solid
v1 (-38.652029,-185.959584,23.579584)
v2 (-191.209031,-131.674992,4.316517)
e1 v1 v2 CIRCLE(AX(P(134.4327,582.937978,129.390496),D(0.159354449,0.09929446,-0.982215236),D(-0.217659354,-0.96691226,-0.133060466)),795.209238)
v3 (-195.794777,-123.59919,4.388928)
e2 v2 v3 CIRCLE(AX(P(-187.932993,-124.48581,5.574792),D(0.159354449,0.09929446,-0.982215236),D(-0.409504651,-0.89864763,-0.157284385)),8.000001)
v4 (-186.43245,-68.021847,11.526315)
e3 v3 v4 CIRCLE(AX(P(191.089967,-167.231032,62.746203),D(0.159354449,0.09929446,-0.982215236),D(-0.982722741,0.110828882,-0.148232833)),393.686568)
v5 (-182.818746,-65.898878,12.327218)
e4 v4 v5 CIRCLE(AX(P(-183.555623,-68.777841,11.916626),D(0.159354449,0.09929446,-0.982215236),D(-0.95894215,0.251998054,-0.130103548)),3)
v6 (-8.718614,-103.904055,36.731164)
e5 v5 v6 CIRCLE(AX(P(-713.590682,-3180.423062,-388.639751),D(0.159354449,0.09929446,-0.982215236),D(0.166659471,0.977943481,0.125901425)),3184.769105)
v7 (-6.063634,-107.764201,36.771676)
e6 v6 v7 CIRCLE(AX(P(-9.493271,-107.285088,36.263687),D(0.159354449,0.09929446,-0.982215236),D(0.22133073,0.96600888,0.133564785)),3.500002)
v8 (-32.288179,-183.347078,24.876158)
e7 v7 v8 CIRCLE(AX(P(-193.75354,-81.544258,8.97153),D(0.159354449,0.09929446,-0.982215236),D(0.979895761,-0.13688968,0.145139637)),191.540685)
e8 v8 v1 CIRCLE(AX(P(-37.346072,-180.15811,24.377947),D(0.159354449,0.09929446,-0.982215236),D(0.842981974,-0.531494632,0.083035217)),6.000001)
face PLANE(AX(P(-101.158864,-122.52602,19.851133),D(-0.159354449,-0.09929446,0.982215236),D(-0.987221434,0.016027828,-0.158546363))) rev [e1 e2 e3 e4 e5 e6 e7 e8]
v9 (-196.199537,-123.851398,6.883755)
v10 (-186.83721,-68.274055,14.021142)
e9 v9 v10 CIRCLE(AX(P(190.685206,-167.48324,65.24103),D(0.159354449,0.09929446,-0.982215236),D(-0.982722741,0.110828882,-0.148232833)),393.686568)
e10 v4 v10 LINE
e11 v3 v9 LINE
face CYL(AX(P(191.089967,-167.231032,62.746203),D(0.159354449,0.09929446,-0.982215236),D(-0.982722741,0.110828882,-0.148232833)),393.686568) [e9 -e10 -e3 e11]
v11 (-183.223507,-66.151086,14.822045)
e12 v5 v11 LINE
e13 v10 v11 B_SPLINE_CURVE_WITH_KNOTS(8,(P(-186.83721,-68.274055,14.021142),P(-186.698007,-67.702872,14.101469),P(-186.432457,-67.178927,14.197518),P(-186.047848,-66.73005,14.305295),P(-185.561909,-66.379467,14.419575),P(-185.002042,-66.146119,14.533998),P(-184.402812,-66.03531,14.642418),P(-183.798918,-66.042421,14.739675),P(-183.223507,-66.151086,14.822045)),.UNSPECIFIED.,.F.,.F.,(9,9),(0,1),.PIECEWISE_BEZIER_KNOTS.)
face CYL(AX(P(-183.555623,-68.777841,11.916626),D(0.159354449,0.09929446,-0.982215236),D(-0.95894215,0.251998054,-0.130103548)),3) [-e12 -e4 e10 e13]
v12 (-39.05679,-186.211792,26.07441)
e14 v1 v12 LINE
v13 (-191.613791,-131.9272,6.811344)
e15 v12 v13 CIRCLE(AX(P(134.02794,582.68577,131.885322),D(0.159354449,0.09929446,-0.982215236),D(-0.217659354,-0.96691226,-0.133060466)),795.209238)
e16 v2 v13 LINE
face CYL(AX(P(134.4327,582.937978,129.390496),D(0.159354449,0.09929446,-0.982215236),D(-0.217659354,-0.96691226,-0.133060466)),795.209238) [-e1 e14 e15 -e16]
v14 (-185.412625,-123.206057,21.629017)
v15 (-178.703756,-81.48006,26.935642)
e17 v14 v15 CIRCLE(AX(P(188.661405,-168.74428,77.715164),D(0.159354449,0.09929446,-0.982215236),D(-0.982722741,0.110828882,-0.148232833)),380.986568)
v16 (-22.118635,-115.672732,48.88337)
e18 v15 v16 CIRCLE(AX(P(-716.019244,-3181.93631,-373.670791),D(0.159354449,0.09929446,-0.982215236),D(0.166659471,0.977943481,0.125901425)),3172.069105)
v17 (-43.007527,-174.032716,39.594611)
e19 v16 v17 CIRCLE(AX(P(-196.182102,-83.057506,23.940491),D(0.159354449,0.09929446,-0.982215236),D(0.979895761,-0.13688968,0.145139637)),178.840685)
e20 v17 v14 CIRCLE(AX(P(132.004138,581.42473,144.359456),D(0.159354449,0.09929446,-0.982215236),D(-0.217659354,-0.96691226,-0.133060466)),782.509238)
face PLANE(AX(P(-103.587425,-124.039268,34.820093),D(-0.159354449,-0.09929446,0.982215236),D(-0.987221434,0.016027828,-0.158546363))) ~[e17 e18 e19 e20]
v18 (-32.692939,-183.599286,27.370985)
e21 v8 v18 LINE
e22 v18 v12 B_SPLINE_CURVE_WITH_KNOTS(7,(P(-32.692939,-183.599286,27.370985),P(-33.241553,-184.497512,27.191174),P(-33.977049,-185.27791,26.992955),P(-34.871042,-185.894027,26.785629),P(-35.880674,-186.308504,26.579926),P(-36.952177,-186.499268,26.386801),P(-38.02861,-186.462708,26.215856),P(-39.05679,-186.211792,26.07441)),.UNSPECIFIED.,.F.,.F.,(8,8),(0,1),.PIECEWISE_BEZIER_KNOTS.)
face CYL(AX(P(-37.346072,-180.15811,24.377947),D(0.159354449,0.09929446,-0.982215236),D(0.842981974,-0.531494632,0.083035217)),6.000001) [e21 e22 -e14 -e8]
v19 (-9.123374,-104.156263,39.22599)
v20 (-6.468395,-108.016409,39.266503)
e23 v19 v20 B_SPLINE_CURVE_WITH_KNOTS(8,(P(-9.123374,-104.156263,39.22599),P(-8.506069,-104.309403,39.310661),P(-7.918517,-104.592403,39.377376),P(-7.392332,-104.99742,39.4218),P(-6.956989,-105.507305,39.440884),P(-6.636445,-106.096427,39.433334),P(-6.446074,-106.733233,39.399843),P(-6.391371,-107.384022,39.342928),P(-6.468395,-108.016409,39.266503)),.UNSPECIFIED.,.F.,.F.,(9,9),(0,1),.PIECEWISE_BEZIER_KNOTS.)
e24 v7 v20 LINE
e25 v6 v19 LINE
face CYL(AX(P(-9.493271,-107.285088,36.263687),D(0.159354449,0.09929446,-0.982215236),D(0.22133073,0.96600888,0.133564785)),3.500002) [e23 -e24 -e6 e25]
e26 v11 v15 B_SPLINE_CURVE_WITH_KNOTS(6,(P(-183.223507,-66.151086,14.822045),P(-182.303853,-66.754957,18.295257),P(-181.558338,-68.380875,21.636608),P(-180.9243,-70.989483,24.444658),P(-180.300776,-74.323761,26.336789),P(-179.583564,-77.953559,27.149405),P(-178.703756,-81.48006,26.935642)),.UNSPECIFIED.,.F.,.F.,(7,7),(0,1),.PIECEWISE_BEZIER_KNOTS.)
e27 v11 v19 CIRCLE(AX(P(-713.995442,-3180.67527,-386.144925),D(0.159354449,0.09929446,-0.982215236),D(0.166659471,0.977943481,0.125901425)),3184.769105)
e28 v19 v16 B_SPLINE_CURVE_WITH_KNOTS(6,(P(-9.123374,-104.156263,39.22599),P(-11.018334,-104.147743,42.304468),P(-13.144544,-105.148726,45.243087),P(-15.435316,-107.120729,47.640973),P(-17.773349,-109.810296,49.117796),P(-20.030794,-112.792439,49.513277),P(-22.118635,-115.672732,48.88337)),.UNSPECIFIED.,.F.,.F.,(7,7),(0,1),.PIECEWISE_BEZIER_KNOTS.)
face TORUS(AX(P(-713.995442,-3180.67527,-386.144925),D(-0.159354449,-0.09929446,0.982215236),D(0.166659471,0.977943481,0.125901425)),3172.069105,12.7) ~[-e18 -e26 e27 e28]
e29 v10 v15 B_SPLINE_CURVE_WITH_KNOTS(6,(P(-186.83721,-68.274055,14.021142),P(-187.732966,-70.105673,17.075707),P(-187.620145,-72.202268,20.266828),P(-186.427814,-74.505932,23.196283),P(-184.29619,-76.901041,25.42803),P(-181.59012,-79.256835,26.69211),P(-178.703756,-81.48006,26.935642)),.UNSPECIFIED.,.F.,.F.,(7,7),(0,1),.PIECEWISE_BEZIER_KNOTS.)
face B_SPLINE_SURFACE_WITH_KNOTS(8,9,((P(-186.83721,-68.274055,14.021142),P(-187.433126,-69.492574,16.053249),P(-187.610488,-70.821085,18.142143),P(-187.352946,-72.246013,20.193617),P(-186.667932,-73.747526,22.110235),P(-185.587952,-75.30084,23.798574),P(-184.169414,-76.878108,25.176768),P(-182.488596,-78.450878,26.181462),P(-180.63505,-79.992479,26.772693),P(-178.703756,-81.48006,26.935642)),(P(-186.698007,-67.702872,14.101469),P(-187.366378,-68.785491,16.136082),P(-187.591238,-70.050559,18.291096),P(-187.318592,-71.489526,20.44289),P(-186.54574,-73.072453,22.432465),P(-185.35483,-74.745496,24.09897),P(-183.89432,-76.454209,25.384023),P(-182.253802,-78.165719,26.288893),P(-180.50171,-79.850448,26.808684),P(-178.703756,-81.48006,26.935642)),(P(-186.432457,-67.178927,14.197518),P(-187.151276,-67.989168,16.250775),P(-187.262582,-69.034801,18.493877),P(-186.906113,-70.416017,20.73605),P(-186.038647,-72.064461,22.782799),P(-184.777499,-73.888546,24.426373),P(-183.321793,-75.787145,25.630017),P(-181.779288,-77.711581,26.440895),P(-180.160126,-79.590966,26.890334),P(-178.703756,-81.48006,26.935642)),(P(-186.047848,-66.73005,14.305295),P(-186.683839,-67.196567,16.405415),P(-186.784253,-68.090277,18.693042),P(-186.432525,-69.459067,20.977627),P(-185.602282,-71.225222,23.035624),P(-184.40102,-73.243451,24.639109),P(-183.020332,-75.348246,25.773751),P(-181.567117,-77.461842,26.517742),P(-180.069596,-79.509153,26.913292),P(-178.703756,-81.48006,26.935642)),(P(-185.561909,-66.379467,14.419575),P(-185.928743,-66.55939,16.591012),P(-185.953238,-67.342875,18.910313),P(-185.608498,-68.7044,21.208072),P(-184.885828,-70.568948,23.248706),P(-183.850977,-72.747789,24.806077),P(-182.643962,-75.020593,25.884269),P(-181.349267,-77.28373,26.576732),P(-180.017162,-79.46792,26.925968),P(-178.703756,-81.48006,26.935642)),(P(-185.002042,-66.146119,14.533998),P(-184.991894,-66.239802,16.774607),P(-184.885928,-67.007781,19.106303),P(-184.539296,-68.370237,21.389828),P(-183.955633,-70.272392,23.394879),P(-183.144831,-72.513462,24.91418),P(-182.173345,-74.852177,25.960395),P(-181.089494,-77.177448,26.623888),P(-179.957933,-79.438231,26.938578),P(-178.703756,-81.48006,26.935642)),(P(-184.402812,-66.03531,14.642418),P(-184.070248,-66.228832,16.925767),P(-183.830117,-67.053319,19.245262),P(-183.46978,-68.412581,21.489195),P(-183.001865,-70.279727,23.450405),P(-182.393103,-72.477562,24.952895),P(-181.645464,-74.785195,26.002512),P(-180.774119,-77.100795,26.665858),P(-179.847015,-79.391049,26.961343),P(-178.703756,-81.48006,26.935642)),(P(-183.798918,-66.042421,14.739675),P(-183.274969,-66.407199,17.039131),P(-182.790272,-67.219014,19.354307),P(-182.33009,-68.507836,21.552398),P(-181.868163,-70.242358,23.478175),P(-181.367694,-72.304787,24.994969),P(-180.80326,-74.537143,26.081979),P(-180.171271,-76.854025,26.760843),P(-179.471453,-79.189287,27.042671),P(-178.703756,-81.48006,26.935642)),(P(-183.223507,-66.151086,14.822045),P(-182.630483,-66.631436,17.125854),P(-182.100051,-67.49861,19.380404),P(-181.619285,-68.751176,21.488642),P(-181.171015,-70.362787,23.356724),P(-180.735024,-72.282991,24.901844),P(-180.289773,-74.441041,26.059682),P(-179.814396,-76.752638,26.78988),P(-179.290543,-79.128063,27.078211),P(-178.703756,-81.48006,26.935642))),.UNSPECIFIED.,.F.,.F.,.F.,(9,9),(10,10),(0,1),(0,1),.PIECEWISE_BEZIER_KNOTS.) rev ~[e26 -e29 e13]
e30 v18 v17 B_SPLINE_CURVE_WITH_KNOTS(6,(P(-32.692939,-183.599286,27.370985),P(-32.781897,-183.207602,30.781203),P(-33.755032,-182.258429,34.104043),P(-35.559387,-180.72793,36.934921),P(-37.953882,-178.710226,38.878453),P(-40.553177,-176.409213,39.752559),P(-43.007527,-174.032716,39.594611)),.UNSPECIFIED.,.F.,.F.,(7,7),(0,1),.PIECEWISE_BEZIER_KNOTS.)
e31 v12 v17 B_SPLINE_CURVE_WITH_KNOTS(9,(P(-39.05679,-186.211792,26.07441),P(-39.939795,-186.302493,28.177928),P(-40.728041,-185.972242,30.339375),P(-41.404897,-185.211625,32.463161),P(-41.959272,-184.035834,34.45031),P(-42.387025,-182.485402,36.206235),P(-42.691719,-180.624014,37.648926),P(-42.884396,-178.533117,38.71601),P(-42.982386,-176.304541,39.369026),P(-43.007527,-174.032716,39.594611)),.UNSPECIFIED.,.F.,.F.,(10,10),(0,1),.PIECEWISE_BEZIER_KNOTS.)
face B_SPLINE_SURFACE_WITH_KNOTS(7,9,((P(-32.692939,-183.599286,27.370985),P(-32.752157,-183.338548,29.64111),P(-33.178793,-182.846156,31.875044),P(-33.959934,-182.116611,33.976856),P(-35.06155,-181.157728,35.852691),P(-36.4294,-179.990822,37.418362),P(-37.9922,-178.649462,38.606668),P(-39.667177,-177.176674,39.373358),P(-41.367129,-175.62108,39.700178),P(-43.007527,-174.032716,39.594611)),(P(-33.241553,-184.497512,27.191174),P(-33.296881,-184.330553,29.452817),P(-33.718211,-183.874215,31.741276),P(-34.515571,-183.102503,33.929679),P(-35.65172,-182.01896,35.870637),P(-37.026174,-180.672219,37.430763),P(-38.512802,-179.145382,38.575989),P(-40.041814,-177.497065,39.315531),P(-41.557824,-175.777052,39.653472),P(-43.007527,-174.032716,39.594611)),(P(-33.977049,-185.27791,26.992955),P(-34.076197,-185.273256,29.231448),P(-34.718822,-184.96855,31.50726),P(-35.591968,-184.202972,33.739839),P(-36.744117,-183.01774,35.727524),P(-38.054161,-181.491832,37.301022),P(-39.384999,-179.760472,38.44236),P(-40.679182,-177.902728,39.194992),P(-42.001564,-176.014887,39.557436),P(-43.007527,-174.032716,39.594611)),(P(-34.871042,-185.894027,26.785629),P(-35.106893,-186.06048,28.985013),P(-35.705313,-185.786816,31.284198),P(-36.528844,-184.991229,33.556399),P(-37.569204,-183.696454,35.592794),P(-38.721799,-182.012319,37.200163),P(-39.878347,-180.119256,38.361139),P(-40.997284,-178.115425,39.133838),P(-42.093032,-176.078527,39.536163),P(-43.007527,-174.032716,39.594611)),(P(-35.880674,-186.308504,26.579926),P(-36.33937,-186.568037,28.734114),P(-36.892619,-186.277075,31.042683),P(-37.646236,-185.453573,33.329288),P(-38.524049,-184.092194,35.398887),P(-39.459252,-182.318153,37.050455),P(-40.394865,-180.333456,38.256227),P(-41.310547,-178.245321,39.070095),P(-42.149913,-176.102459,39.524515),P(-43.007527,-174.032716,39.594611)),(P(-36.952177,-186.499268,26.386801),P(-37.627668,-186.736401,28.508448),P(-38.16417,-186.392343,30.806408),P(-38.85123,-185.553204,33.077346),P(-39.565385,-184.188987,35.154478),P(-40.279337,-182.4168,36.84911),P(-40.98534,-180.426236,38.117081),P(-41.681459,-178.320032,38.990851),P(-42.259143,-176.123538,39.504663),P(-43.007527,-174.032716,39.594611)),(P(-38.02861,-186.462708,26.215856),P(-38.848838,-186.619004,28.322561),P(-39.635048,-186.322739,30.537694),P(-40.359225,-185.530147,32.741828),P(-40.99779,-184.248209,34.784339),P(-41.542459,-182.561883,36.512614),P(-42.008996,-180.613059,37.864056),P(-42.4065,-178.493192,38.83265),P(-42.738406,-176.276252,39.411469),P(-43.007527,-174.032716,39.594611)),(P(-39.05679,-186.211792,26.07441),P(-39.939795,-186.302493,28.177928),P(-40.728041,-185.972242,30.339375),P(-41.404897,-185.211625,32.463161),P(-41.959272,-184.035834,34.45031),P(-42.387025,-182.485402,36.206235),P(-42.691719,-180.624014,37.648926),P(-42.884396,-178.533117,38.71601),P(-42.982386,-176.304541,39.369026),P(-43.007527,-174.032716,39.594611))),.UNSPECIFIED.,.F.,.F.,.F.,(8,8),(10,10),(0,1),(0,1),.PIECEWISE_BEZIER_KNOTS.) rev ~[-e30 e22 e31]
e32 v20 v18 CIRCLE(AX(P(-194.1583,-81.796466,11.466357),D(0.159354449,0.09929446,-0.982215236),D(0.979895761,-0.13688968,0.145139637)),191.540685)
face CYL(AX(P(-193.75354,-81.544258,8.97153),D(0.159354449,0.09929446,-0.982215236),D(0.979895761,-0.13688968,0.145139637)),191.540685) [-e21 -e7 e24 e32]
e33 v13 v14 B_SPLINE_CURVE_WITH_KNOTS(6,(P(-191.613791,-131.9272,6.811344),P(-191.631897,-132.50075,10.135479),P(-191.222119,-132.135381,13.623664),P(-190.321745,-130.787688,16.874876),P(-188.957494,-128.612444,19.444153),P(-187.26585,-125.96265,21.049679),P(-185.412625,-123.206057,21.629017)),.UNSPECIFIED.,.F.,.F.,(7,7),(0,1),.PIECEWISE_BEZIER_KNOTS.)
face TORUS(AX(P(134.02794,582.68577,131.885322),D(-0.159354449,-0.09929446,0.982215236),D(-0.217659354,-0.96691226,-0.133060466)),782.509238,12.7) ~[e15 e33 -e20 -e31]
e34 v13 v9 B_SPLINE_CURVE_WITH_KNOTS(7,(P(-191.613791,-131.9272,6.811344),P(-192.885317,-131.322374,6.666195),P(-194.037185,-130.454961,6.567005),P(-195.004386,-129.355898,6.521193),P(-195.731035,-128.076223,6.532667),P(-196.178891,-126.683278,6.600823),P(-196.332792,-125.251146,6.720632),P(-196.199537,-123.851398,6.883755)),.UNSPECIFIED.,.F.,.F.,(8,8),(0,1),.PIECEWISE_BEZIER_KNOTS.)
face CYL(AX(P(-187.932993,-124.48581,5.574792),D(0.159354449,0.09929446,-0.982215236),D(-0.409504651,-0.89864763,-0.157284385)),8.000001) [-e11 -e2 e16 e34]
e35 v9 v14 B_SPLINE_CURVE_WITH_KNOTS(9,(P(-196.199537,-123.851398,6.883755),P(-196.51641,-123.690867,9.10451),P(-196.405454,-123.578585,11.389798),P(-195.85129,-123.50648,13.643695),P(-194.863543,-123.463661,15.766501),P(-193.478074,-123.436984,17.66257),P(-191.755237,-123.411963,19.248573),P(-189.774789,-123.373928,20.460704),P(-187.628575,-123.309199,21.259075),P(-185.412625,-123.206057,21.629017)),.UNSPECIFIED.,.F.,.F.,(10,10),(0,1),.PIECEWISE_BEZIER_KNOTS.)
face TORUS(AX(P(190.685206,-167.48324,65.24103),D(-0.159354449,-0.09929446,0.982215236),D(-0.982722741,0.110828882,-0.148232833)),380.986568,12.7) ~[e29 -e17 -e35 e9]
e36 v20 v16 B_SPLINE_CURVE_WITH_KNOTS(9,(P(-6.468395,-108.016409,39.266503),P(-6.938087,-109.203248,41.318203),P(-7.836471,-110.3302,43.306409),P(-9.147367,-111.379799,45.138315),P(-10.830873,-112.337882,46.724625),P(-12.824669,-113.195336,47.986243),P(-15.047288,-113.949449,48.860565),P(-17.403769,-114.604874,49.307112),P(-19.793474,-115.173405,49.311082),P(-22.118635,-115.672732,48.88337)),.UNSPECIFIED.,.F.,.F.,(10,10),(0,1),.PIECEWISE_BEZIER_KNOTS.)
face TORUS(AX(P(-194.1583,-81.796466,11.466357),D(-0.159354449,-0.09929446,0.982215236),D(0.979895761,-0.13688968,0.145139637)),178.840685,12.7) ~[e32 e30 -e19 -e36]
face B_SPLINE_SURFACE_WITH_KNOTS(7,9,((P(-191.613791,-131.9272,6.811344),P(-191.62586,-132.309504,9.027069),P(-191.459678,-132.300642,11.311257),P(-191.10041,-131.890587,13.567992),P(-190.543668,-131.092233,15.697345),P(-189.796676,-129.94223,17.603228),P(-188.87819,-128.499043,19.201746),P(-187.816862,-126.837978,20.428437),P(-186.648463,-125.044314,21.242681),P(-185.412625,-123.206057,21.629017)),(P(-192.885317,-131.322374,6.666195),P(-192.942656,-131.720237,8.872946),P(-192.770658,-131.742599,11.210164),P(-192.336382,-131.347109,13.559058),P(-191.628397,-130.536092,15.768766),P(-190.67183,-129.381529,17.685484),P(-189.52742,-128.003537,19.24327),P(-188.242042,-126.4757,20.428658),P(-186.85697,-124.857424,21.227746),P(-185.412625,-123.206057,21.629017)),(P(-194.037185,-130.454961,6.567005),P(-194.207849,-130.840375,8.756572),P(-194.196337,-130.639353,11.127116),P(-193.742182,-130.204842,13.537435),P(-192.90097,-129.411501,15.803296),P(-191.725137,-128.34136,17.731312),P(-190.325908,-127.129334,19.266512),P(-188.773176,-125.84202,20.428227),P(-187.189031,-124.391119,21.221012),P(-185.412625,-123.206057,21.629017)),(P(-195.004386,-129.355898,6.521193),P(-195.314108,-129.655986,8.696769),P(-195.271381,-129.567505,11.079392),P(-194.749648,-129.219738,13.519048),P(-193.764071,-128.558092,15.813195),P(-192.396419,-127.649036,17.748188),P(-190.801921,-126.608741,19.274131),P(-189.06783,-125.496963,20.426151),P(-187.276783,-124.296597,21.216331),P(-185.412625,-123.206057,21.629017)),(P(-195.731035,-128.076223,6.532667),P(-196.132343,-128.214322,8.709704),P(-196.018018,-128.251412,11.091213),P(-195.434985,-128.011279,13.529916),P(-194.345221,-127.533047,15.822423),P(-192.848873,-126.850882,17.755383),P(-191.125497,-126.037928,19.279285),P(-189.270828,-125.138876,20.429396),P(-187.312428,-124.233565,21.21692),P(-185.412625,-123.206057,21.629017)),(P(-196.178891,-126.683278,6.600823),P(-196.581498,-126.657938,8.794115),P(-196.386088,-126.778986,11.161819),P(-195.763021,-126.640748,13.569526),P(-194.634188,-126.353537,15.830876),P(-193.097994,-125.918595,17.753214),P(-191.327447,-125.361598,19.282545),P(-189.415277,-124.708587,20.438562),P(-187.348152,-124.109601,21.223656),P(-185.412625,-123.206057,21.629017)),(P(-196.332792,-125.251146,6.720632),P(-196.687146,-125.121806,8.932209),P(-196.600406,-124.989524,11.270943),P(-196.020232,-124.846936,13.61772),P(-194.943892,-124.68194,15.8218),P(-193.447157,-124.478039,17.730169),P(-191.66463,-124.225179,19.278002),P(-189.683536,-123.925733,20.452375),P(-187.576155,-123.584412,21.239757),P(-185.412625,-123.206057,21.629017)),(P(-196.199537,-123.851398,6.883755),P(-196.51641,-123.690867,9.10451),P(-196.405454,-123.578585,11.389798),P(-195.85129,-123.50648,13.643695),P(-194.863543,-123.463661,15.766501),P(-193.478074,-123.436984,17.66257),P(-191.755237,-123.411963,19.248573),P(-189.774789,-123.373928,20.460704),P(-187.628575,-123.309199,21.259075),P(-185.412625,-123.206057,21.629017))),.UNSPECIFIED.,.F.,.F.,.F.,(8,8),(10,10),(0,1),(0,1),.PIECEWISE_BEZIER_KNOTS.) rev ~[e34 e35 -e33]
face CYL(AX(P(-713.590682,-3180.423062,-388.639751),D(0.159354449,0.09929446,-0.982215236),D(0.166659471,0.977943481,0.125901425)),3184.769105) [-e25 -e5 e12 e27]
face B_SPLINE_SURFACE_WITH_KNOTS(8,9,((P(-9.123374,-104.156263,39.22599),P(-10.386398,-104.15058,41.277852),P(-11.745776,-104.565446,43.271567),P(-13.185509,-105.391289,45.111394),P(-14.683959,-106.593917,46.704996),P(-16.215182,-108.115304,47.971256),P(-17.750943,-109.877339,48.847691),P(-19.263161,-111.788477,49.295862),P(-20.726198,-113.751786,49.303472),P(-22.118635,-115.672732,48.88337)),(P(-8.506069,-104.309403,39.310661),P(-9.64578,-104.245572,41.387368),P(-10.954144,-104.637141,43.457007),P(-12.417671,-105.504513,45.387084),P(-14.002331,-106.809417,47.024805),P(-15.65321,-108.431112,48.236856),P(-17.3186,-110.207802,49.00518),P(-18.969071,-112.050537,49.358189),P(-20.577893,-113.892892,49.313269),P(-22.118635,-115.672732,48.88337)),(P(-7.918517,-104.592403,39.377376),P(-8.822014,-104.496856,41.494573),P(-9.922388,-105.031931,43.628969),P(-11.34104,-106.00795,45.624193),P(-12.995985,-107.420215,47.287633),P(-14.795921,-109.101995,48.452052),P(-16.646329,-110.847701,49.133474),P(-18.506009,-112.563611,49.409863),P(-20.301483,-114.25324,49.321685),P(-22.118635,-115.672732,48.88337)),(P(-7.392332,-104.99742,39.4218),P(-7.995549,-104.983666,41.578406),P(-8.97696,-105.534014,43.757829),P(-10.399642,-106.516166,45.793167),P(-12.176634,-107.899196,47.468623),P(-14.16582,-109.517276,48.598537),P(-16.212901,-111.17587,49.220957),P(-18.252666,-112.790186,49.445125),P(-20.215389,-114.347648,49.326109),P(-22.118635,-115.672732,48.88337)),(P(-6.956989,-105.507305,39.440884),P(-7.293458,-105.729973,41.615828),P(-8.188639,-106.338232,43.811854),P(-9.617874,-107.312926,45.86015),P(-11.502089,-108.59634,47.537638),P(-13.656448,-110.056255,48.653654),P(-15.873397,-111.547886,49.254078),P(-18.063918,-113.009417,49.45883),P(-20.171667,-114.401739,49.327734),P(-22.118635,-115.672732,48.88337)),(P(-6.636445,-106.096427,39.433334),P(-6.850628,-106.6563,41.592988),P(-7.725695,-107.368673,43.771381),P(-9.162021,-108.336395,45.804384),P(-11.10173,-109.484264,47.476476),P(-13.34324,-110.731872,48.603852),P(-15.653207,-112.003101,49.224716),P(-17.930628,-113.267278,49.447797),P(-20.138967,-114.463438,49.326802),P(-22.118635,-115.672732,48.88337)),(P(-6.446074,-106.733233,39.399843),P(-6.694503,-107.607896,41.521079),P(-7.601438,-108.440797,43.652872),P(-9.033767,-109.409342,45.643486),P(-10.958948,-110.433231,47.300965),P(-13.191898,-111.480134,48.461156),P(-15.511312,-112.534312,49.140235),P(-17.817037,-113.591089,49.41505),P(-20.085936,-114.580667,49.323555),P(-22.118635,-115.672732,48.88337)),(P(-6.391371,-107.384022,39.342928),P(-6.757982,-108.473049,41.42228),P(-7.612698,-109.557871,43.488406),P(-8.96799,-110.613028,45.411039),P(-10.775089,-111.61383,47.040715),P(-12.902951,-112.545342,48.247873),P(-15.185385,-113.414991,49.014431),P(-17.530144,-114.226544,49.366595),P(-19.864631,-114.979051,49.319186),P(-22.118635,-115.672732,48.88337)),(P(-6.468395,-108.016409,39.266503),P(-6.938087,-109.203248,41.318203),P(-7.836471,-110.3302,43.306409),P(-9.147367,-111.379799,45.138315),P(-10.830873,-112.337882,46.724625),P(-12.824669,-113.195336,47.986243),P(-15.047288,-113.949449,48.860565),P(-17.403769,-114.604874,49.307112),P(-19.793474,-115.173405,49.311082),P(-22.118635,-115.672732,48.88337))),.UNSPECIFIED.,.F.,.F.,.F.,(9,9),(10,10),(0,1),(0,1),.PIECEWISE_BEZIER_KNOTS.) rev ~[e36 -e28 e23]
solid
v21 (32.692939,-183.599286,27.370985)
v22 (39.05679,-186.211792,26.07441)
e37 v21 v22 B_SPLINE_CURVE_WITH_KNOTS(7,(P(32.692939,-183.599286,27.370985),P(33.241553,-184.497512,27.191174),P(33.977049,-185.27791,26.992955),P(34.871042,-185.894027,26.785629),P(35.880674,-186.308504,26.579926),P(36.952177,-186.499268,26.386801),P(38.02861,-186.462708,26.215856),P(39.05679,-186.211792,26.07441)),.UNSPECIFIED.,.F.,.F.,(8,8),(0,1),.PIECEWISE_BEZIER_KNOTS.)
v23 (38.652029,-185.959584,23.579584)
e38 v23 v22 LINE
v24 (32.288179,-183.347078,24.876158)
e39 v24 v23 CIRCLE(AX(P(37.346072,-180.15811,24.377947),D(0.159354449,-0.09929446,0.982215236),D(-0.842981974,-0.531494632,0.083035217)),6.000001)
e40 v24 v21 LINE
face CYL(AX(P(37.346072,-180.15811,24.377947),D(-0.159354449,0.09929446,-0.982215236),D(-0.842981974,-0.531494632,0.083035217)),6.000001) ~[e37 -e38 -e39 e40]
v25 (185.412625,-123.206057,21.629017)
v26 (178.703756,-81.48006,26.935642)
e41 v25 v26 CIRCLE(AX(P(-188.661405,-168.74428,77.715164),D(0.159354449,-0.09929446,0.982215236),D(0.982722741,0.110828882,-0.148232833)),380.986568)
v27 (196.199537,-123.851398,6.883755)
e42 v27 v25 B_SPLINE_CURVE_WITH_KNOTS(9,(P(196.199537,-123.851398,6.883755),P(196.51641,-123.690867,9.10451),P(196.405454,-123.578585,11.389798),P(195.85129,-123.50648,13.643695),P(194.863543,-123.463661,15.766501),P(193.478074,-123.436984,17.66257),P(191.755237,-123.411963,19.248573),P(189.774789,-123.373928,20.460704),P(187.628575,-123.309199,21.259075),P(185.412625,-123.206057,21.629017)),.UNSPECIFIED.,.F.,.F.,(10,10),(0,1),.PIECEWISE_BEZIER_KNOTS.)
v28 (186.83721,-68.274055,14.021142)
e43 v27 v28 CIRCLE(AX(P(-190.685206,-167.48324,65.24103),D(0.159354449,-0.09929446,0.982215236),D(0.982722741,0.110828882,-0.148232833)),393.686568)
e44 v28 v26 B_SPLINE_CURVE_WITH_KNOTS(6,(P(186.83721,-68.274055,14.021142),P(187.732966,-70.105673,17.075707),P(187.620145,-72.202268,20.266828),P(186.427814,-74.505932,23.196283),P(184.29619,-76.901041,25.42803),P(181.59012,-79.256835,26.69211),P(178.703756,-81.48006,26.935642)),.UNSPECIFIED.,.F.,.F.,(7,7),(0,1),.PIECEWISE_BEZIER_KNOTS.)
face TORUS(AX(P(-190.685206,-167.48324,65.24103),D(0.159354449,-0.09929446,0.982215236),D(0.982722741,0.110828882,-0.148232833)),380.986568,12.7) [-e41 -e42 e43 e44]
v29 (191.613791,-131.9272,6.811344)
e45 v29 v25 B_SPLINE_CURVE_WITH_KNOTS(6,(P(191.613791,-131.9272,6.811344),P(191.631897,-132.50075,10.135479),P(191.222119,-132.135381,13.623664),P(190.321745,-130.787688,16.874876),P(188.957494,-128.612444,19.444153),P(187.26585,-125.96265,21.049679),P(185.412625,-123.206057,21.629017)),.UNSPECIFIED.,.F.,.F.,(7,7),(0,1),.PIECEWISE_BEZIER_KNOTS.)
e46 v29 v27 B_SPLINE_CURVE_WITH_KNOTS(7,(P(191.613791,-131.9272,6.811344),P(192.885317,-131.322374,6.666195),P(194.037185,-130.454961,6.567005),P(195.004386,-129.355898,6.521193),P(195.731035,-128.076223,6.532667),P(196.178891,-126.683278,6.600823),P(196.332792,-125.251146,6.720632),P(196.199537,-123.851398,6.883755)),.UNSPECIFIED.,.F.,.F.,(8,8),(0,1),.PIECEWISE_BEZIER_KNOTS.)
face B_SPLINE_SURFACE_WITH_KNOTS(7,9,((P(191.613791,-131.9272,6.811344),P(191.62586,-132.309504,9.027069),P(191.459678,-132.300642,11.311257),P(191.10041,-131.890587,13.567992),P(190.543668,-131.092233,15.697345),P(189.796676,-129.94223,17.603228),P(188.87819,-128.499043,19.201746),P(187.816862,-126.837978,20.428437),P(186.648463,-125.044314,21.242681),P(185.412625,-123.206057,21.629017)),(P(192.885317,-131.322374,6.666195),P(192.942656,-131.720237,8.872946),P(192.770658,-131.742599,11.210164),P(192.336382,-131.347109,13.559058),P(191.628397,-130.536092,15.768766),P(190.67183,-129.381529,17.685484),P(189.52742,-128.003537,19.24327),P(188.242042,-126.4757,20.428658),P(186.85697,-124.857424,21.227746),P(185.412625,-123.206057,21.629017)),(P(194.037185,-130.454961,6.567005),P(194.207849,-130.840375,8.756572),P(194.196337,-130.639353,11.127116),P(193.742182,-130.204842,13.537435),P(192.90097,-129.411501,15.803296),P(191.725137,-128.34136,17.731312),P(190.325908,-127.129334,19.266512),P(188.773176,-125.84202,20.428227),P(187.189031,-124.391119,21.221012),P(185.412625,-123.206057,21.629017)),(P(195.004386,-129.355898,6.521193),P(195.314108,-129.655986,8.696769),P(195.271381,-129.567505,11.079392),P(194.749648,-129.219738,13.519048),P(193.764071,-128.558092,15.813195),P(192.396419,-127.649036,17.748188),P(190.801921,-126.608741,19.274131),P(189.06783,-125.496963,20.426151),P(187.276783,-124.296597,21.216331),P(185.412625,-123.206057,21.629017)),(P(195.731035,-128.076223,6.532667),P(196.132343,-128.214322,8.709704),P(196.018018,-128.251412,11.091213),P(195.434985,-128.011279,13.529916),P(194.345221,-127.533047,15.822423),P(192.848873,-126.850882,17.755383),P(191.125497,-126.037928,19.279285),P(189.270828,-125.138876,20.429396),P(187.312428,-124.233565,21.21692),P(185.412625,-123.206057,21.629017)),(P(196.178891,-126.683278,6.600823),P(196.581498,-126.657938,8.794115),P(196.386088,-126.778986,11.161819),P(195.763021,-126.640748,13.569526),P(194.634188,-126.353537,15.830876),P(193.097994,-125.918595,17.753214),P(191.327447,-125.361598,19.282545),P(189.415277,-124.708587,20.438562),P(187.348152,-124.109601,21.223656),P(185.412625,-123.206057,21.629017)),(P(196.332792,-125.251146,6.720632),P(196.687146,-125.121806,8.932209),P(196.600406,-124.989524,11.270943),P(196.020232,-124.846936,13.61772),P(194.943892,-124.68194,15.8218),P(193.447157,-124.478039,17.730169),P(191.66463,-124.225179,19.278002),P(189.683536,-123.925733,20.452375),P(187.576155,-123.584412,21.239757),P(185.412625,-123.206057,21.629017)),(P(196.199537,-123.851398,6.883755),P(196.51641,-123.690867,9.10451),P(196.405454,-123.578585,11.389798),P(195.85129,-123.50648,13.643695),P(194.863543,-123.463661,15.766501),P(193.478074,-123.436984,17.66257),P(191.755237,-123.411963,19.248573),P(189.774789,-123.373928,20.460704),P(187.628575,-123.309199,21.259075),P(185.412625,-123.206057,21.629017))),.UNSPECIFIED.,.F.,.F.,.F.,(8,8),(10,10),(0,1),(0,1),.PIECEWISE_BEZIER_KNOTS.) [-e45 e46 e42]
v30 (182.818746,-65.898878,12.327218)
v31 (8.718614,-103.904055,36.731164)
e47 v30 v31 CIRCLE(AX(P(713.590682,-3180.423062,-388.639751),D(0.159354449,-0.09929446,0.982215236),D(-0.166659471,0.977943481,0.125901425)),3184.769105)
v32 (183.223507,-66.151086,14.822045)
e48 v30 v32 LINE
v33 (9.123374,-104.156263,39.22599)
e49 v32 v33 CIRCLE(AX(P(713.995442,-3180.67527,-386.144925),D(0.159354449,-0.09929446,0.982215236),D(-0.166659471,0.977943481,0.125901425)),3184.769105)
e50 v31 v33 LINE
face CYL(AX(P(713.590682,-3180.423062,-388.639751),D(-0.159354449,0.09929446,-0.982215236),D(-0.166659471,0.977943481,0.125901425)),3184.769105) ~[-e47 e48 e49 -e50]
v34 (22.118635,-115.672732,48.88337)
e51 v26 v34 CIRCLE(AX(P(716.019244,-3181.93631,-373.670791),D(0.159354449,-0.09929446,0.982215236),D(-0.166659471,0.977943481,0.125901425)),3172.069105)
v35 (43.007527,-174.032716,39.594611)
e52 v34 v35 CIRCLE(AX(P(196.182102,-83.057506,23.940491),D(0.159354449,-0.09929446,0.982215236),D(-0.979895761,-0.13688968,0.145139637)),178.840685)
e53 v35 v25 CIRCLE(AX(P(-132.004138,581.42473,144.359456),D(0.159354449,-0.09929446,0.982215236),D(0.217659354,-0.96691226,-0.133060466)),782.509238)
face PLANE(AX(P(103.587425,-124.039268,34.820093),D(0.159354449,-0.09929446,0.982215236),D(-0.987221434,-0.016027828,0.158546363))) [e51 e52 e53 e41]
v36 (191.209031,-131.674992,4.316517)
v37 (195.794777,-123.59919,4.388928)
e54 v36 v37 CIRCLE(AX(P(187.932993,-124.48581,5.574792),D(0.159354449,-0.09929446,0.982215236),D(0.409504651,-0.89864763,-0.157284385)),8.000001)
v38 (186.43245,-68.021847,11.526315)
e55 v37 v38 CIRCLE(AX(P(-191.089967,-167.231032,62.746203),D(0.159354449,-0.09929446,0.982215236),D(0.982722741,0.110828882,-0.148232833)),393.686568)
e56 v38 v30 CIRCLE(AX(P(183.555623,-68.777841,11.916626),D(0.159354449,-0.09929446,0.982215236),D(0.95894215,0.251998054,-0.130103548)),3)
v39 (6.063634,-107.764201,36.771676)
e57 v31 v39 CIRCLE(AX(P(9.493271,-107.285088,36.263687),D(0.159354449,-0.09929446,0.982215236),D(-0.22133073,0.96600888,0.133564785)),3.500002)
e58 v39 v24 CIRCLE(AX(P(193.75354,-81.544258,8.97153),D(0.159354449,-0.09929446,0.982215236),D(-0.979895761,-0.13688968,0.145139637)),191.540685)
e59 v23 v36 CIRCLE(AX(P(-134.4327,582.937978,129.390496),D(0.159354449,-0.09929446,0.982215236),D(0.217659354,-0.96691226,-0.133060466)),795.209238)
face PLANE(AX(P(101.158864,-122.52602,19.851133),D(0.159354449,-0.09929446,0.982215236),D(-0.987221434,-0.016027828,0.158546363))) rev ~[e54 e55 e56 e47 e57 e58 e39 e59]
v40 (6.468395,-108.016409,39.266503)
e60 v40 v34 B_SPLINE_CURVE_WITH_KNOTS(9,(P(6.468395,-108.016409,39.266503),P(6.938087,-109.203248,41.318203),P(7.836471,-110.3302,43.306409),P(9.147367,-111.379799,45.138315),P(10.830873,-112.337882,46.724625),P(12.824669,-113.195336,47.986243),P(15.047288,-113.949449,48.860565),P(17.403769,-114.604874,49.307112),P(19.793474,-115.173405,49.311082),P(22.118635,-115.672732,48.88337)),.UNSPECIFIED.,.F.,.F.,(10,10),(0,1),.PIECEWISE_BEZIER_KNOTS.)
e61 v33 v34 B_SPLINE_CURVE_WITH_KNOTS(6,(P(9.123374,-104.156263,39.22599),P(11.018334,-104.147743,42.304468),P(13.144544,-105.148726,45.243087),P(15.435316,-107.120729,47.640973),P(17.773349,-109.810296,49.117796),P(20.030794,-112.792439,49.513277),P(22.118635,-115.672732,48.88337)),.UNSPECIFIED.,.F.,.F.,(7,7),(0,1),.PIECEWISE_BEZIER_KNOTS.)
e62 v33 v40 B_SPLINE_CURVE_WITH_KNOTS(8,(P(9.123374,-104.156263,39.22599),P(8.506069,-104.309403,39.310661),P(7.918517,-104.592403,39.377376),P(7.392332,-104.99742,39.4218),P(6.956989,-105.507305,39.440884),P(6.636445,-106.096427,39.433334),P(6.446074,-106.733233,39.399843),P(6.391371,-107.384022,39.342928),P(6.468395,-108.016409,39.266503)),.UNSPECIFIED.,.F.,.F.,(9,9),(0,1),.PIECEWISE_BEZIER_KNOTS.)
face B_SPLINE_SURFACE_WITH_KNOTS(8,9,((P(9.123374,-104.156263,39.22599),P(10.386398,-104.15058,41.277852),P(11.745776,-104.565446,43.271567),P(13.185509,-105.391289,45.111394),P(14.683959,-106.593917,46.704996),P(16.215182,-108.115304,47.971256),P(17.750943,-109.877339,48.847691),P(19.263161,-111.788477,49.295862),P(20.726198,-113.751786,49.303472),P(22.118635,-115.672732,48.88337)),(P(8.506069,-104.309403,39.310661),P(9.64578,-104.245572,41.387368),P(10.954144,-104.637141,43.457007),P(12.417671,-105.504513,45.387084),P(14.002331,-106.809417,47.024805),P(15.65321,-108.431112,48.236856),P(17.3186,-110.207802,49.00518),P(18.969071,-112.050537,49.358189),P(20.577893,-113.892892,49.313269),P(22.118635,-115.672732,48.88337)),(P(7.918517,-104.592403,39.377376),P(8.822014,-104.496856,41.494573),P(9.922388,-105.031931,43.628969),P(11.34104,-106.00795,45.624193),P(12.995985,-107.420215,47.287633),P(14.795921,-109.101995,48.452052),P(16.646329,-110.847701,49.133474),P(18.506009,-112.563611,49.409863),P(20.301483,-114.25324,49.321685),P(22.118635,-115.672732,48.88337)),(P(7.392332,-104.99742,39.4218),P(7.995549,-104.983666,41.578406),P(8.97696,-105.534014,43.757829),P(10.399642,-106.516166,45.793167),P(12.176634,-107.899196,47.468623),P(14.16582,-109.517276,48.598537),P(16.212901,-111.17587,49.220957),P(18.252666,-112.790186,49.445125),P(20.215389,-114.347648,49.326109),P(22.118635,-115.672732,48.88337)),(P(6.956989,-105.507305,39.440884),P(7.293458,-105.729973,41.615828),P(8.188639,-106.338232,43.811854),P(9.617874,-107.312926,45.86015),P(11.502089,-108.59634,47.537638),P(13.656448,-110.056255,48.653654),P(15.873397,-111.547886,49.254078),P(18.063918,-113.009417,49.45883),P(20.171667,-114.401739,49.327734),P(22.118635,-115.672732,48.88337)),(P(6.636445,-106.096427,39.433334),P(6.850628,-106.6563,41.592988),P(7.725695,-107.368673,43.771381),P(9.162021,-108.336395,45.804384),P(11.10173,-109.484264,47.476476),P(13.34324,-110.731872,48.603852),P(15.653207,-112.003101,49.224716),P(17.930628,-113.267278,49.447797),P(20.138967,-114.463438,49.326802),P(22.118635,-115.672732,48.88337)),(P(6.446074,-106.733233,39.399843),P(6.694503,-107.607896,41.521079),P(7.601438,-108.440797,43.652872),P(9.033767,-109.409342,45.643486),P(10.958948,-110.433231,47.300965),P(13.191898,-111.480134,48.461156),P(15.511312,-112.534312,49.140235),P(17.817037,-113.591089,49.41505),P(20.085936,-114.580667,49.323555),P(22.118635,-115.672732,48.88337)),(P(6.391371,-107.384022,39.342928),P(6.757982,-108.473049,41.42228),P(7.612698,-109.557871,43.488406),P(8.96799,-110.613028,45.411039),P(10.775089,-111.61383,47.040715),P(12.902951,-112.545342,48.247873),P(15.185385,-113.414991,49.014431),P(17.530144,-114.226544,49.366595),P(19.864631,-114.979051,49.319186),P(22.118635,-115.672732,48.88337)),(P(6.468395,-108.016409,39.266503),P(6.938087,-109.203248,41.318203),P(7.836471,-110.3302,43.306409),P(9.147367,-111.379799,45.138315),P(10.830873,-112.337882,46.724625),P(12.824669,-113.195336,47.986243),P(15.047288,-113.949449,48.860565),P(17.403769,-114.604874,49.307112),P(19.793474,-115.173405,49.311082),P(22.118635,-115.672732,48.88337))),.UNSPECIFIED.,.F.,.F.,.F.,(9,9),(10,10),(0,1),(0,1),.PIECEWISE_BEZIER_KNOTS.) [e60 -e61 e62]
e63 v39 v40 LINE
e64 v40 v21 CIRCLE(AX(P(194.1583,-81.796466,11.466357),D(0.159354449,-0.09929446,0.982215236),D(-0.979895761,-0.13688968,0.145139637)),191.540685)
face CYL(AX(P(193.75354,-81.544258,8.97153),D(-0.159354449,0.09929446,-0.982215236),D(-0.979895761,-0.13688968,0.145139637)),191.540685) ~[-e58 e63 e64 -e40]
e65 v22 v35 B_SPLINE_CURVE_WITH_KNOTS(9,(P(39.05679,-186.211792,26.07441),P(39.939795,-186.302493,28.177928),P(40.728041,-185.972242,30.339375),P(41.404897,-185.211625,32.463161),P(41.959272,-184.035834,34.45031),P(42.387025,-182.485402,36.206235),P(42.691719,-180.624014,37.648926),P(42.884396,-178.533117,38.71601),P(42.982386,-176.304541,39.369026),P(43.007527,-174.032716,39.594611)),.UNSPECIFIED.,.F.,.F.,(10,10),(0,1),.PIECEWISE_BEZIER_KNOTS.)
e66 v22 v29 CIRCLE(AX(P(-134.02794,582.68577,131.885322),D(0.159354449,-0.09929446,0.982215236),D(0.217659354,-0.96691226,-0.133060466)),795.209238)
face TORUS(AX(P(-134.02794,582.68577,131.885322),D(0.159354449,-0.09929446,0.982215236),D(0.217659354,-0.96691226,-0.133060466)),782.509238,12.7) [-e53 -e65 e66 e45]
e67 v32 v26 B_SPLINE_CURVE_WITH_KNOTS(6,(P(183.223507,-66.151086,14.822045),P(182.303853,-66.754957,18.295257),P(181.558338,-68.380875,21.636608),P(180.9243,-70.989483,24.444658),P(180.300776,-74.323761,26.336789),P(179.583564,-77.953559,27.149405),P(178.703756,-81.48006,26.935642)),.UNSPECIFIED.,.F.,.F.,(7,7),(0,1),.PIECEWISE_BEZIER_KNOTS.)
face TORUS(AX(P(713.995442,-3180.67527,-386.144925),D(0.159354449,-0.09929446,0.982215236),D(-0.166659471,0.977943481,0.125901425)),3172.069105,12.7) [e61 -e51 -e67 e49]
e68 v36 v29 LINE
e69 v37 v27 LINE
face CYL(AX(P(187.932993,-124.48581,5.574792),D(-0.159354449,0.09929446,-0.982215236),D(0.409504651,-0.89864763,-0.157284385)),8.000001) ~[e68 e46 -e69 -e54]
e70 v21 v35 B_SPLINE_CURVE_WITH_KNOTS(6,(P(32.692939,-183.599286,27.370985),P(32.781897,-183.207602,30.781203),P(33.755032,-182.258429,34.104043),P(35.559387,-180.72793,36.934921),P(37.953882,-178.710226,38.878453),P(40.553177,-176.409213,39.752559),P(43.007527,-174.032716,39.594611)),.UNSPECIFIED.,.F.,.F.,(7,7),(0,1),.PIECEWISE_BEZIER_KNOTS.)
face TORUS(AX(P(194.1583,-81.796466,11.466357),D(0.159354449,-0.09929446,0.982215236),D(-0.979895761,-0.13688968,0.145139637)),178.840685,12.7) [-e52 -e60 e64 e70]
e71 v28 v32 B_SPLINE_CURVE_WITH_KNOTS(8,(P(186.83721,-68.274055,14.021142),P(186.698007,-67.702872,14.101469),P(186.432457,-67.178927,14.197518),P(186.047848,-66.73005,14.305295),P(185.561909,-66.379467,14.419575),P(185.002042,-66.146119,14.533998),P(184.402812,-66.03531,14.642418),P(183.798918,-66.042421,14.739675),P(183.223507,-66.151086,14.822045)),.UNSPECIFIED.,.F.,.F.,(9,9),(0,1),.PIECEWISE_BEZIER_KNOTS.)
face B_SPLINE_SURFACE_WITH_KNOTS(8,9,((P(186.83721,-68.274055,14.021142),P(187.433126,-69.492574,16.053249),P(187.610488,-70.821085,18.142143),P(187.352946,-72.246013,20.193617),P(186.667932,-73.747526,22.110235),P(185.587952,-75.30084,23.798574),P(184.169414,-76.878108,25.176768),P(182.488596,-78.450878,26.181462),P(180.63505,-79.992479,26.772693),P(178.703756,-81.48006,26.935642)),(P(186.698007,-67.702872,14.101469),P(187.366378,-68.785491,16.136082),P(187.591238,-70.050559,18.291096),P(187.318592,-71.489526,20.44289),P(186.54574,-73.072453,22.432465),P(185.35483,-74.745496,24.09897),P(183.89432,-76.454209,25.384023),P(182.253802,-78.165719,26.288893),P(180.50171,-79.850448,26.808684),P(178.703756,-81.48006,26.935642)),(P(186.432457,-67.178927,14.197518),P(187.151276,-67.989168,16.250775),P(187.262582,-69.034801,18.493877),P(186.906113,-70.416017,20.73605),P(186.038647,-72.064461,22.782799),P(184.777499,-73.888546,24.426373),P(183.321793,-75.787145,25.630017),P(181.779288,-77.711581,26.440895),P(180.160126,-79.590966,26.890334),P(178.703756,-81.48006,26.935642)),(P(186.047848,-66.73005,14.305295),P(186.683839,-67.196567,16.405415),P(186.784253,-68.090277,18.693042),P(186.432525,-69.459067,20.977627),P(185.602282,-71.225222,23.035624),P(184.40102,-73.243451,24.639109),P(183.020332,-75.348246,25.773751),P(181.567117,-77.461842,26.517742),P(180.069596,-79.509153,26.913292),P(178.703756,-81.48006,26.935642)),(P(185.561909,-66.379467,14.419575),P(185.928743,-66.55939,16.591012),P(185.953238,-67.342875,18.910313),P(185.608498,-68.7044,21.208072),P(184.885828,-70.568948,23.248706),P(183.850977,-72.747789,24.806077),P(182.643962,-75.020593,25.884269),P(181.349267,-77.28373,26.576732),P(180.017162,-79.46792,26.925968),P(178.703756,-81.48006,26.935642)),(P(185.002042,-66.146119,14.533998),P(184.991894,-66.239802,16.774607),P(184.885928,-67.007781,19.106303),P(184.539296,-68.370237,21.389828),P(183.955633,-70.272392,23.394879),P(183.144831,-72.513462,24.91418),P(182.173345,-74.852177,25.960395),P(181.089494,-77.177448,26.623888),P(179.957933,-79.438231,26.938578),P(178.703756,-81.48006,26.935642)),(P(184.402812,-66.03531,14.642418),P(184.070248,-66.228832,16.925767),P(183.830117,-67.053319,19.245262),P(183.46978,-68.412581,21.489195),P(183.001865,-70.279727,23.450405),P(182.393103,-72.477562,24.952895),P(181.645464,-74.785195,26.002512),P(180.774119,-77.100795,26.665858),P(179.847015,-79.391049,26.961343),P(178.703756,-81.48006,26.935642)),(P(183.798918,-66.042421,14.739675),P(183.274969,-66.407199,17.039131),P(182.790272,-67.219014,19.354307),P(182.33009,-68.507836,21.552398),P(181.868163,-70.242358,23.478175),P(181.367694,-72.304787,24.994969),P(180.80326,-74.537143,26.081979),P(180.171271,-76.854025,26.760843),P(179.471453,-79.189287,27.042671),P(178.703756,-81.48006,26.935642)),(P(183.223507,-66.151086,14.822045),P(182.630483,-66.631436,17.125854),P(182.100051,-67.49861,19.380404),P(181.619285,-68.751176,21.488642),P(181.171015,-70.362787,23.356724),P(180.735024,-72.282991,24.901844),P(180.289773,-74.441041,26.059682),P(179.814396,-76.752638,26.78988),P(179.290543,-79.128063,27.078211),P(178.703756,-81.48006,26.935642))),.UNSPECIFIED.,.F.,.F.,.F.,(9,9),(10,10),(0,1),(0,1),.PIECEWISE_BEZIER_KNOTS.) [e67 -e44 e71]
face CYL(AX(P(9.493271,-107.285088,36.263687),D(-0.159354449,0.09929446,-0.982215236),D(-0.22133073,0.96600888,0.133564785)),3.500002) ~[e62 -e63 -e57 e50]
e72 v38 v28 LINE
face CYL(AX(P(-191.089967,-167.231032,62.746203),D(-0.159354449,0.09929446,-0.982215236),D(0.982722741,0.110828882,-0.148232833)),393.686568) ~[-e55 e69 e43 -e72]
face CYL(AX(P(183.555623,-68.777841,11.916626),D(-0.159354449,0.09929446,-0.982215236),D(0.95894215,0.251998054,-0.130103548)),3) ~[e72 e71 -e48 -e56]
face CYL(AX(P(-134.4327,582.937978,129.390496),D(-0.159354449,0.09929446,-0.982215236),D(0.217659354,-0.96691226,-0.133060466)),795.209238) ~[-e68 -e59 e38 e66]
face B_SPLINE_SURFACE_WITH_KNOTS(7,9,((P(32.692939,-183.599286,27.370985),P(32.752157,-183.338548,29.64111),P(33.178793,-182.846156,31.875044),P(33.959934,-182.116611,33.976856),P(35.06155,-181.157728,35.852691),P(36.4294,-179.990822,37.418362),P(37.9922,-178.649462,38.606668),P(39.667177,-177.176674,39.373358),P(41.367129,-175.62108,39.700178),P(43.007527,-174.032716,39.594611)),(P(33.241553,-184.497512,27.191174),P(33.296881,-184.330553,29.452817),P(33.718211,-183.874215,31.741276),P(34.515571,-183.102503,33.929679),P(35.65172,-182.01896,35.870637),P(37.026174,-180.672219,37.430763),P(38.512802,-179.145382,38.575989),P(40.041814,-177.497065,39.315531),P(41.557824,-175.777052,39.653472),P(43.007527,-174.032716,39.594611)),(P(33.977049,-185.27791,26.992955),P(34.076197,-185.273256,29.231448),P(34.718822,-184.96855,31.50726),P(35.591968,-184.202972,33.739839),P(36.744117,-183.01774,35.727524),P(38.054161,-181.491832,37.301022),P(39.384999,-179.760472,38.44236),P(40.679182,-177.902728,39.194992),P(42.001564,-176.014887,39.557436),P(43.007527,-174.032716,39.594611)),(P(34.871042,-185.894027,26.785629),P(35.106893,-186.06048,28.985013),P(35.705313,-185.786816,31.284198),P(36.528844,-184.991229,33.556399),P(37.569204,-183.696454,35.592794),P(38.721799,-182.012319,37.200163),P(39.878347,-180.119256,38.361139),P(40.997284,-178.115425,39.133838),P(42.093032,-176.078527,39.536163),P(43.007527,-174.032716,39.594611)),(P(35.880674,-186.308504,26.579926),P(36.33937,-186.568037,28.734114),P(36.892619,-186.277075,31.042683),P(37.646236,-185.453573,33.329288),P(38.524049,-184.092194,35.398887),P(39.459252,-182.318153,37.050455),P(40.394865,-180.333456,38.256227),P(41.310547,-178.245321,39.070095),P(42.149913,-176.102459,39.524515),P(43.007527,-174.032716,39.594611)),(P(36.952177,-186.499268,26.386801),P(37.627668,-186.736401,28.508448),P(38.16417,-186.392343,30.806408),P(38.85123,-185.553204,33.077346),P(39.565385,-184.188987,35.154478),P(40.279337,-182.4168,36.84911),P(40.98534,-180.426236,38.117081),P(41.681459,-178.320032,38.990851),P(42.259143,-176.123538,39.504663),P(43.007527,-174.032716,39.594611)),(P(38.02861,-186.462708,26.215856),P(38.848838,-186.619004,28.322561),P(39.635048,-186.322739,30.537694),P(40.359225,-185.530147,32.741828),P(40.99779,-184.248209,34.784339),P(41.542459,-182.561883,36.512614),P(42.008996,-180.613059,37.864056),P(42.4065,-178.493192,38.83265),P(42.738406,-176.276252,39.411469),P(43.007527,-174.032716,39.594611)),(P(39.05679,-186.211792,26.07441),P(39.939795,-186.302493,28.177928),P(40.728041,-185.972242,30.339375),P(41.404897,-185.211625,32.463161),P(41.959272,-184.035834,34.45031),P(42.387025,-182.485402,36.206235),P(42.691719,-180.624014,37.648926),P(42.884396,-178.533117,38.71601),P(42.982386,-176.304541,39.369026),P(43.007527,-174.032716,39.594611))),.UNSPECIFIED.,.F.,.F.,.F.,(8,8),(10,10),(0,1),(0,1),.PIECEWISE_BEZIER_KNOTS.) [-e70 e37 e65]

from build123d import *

# Parameters (mm, degrees)
EXTRUDE021_DEPTH                          = 15.24
EXTRUDE021_ONTO_SKETCH027_ROLL_ANGLE      = -5.84676
EXTRUDE021_ONTO_SKETCH027_PITCH_ANGLE     = -9.122532
EXTRUDE021_ONTO_SKETCH027_PLACEMENT_ANGLE = -179.069868
FILLET001_R                               = 12.7


with BuildPart() as right_palm_pad:
    # Sketch027 as drawn → Extrude021 (new)
    with BuildSketch(Plane.XY):
        with BuildLine():
            ThreePointArc((-181.132412, 66.517595), (-179.76001, 64.656925), (-177.471933, 64.324837))
            ThreePointArc((-177.471933, 64.324837), (-89.045434, 80.758573), (-1.118253, 99.682747))
            ThreePointArc((-1.118253, 99.682747), (0.963042, 101.084631), (1.571092, 103.519244))
            ThreePointArc((1.571092, 103.519244), (-7.632426, 143.135411), (-24.992902, 179.915288))
            ThreePointArc((-24.992902, 179.915288), (-27.776665, 182.317661), (-31.439126, 182.644955))
            ThreePointArc((-31.439126, 182.644955), (-110.04326, 160.580618), (-185.970821, 130.573114))
            ThreePointArc((-185.970821, 130.573114), (-189.579845, 127.295109), (-190.615925, 122.530982))
            ThreePointArc((-190.615925, 122.530982), (-186.885856, 94.353001), (-181.132412, 66.517595))
        make_face()
    extrude(amount=EXTRUDE021_DEPTH)


with BuildPart() as right_palm_pad_1:
    # Extrude021 onto Sketch027 roll: moved
    add(right_palm_pad.part.rotate(Axis((0, 0, 0), (1, 0, 0)), EXTRUDE021_ONTO_SKETCH027_ROLL_ANGLE))


with BuildPart() as right_palm_pad_2:
    # Extrude021 onto Sketch027 pitch: moved
    add(right_palm_pad_1.part.rotate(Axis((0, 0, 0), (0, 1, 0)), EXTRUDE021_ONTO_SKETCH027_PITCH_ANGLE))


with BuildPart() as right_palm_pad_3:
    # Extrude021 onto Sketch027 placement: moved
    add(right_palm_pad_2.part.moved(Location((7.61465, -4.744722, 46.934522))).rotate(Axis((7.61465, -4.744722, 46.934522), (0, 0, 1)), EXTRUDE021_ONTO_SKETCH027_PLACEMENT_ANGLE))

    # Fillet001
    fillet001_edges = [right_palm_pad_3.edges().sort_by_distance(p)[0] for p in [
        (187.506147, -67.705857, 26.900009),
        (97.950773, -85.179812, 39.662976),
        (9.092476, -106.845436, 51.889104),
        (17.578107, -148.54521, 46.296867),
        (37.464931, -187.205899, 39.162131),
        (118.680276, -164.260529, 28.305367),
        (197.200499, -129.869012, 19.042978),
        (194.540934, -97.137133, 22.783408),
    ]]
    fillet(fillet001_edges, radius=FILLET001_R)


with BuildPart() as left_palm_pad:
    # Part__Mirroring008: instance of Right Palm Pad
    add(right_palm_pad_3.part.mirror(Plane(origin=(0, 0, 0), x_dir=(0, -1, 0), z_dir=(1, 0, 0))))


with BuildPart() as palm_pads:
    # Fusion003 base: copy of Right Palm Pad
    add(right_palm_pad_3.part)

    # Fusion003: union Left Palm Pad
    add(left_palm_pad.part)


solid = palm_pads.part
